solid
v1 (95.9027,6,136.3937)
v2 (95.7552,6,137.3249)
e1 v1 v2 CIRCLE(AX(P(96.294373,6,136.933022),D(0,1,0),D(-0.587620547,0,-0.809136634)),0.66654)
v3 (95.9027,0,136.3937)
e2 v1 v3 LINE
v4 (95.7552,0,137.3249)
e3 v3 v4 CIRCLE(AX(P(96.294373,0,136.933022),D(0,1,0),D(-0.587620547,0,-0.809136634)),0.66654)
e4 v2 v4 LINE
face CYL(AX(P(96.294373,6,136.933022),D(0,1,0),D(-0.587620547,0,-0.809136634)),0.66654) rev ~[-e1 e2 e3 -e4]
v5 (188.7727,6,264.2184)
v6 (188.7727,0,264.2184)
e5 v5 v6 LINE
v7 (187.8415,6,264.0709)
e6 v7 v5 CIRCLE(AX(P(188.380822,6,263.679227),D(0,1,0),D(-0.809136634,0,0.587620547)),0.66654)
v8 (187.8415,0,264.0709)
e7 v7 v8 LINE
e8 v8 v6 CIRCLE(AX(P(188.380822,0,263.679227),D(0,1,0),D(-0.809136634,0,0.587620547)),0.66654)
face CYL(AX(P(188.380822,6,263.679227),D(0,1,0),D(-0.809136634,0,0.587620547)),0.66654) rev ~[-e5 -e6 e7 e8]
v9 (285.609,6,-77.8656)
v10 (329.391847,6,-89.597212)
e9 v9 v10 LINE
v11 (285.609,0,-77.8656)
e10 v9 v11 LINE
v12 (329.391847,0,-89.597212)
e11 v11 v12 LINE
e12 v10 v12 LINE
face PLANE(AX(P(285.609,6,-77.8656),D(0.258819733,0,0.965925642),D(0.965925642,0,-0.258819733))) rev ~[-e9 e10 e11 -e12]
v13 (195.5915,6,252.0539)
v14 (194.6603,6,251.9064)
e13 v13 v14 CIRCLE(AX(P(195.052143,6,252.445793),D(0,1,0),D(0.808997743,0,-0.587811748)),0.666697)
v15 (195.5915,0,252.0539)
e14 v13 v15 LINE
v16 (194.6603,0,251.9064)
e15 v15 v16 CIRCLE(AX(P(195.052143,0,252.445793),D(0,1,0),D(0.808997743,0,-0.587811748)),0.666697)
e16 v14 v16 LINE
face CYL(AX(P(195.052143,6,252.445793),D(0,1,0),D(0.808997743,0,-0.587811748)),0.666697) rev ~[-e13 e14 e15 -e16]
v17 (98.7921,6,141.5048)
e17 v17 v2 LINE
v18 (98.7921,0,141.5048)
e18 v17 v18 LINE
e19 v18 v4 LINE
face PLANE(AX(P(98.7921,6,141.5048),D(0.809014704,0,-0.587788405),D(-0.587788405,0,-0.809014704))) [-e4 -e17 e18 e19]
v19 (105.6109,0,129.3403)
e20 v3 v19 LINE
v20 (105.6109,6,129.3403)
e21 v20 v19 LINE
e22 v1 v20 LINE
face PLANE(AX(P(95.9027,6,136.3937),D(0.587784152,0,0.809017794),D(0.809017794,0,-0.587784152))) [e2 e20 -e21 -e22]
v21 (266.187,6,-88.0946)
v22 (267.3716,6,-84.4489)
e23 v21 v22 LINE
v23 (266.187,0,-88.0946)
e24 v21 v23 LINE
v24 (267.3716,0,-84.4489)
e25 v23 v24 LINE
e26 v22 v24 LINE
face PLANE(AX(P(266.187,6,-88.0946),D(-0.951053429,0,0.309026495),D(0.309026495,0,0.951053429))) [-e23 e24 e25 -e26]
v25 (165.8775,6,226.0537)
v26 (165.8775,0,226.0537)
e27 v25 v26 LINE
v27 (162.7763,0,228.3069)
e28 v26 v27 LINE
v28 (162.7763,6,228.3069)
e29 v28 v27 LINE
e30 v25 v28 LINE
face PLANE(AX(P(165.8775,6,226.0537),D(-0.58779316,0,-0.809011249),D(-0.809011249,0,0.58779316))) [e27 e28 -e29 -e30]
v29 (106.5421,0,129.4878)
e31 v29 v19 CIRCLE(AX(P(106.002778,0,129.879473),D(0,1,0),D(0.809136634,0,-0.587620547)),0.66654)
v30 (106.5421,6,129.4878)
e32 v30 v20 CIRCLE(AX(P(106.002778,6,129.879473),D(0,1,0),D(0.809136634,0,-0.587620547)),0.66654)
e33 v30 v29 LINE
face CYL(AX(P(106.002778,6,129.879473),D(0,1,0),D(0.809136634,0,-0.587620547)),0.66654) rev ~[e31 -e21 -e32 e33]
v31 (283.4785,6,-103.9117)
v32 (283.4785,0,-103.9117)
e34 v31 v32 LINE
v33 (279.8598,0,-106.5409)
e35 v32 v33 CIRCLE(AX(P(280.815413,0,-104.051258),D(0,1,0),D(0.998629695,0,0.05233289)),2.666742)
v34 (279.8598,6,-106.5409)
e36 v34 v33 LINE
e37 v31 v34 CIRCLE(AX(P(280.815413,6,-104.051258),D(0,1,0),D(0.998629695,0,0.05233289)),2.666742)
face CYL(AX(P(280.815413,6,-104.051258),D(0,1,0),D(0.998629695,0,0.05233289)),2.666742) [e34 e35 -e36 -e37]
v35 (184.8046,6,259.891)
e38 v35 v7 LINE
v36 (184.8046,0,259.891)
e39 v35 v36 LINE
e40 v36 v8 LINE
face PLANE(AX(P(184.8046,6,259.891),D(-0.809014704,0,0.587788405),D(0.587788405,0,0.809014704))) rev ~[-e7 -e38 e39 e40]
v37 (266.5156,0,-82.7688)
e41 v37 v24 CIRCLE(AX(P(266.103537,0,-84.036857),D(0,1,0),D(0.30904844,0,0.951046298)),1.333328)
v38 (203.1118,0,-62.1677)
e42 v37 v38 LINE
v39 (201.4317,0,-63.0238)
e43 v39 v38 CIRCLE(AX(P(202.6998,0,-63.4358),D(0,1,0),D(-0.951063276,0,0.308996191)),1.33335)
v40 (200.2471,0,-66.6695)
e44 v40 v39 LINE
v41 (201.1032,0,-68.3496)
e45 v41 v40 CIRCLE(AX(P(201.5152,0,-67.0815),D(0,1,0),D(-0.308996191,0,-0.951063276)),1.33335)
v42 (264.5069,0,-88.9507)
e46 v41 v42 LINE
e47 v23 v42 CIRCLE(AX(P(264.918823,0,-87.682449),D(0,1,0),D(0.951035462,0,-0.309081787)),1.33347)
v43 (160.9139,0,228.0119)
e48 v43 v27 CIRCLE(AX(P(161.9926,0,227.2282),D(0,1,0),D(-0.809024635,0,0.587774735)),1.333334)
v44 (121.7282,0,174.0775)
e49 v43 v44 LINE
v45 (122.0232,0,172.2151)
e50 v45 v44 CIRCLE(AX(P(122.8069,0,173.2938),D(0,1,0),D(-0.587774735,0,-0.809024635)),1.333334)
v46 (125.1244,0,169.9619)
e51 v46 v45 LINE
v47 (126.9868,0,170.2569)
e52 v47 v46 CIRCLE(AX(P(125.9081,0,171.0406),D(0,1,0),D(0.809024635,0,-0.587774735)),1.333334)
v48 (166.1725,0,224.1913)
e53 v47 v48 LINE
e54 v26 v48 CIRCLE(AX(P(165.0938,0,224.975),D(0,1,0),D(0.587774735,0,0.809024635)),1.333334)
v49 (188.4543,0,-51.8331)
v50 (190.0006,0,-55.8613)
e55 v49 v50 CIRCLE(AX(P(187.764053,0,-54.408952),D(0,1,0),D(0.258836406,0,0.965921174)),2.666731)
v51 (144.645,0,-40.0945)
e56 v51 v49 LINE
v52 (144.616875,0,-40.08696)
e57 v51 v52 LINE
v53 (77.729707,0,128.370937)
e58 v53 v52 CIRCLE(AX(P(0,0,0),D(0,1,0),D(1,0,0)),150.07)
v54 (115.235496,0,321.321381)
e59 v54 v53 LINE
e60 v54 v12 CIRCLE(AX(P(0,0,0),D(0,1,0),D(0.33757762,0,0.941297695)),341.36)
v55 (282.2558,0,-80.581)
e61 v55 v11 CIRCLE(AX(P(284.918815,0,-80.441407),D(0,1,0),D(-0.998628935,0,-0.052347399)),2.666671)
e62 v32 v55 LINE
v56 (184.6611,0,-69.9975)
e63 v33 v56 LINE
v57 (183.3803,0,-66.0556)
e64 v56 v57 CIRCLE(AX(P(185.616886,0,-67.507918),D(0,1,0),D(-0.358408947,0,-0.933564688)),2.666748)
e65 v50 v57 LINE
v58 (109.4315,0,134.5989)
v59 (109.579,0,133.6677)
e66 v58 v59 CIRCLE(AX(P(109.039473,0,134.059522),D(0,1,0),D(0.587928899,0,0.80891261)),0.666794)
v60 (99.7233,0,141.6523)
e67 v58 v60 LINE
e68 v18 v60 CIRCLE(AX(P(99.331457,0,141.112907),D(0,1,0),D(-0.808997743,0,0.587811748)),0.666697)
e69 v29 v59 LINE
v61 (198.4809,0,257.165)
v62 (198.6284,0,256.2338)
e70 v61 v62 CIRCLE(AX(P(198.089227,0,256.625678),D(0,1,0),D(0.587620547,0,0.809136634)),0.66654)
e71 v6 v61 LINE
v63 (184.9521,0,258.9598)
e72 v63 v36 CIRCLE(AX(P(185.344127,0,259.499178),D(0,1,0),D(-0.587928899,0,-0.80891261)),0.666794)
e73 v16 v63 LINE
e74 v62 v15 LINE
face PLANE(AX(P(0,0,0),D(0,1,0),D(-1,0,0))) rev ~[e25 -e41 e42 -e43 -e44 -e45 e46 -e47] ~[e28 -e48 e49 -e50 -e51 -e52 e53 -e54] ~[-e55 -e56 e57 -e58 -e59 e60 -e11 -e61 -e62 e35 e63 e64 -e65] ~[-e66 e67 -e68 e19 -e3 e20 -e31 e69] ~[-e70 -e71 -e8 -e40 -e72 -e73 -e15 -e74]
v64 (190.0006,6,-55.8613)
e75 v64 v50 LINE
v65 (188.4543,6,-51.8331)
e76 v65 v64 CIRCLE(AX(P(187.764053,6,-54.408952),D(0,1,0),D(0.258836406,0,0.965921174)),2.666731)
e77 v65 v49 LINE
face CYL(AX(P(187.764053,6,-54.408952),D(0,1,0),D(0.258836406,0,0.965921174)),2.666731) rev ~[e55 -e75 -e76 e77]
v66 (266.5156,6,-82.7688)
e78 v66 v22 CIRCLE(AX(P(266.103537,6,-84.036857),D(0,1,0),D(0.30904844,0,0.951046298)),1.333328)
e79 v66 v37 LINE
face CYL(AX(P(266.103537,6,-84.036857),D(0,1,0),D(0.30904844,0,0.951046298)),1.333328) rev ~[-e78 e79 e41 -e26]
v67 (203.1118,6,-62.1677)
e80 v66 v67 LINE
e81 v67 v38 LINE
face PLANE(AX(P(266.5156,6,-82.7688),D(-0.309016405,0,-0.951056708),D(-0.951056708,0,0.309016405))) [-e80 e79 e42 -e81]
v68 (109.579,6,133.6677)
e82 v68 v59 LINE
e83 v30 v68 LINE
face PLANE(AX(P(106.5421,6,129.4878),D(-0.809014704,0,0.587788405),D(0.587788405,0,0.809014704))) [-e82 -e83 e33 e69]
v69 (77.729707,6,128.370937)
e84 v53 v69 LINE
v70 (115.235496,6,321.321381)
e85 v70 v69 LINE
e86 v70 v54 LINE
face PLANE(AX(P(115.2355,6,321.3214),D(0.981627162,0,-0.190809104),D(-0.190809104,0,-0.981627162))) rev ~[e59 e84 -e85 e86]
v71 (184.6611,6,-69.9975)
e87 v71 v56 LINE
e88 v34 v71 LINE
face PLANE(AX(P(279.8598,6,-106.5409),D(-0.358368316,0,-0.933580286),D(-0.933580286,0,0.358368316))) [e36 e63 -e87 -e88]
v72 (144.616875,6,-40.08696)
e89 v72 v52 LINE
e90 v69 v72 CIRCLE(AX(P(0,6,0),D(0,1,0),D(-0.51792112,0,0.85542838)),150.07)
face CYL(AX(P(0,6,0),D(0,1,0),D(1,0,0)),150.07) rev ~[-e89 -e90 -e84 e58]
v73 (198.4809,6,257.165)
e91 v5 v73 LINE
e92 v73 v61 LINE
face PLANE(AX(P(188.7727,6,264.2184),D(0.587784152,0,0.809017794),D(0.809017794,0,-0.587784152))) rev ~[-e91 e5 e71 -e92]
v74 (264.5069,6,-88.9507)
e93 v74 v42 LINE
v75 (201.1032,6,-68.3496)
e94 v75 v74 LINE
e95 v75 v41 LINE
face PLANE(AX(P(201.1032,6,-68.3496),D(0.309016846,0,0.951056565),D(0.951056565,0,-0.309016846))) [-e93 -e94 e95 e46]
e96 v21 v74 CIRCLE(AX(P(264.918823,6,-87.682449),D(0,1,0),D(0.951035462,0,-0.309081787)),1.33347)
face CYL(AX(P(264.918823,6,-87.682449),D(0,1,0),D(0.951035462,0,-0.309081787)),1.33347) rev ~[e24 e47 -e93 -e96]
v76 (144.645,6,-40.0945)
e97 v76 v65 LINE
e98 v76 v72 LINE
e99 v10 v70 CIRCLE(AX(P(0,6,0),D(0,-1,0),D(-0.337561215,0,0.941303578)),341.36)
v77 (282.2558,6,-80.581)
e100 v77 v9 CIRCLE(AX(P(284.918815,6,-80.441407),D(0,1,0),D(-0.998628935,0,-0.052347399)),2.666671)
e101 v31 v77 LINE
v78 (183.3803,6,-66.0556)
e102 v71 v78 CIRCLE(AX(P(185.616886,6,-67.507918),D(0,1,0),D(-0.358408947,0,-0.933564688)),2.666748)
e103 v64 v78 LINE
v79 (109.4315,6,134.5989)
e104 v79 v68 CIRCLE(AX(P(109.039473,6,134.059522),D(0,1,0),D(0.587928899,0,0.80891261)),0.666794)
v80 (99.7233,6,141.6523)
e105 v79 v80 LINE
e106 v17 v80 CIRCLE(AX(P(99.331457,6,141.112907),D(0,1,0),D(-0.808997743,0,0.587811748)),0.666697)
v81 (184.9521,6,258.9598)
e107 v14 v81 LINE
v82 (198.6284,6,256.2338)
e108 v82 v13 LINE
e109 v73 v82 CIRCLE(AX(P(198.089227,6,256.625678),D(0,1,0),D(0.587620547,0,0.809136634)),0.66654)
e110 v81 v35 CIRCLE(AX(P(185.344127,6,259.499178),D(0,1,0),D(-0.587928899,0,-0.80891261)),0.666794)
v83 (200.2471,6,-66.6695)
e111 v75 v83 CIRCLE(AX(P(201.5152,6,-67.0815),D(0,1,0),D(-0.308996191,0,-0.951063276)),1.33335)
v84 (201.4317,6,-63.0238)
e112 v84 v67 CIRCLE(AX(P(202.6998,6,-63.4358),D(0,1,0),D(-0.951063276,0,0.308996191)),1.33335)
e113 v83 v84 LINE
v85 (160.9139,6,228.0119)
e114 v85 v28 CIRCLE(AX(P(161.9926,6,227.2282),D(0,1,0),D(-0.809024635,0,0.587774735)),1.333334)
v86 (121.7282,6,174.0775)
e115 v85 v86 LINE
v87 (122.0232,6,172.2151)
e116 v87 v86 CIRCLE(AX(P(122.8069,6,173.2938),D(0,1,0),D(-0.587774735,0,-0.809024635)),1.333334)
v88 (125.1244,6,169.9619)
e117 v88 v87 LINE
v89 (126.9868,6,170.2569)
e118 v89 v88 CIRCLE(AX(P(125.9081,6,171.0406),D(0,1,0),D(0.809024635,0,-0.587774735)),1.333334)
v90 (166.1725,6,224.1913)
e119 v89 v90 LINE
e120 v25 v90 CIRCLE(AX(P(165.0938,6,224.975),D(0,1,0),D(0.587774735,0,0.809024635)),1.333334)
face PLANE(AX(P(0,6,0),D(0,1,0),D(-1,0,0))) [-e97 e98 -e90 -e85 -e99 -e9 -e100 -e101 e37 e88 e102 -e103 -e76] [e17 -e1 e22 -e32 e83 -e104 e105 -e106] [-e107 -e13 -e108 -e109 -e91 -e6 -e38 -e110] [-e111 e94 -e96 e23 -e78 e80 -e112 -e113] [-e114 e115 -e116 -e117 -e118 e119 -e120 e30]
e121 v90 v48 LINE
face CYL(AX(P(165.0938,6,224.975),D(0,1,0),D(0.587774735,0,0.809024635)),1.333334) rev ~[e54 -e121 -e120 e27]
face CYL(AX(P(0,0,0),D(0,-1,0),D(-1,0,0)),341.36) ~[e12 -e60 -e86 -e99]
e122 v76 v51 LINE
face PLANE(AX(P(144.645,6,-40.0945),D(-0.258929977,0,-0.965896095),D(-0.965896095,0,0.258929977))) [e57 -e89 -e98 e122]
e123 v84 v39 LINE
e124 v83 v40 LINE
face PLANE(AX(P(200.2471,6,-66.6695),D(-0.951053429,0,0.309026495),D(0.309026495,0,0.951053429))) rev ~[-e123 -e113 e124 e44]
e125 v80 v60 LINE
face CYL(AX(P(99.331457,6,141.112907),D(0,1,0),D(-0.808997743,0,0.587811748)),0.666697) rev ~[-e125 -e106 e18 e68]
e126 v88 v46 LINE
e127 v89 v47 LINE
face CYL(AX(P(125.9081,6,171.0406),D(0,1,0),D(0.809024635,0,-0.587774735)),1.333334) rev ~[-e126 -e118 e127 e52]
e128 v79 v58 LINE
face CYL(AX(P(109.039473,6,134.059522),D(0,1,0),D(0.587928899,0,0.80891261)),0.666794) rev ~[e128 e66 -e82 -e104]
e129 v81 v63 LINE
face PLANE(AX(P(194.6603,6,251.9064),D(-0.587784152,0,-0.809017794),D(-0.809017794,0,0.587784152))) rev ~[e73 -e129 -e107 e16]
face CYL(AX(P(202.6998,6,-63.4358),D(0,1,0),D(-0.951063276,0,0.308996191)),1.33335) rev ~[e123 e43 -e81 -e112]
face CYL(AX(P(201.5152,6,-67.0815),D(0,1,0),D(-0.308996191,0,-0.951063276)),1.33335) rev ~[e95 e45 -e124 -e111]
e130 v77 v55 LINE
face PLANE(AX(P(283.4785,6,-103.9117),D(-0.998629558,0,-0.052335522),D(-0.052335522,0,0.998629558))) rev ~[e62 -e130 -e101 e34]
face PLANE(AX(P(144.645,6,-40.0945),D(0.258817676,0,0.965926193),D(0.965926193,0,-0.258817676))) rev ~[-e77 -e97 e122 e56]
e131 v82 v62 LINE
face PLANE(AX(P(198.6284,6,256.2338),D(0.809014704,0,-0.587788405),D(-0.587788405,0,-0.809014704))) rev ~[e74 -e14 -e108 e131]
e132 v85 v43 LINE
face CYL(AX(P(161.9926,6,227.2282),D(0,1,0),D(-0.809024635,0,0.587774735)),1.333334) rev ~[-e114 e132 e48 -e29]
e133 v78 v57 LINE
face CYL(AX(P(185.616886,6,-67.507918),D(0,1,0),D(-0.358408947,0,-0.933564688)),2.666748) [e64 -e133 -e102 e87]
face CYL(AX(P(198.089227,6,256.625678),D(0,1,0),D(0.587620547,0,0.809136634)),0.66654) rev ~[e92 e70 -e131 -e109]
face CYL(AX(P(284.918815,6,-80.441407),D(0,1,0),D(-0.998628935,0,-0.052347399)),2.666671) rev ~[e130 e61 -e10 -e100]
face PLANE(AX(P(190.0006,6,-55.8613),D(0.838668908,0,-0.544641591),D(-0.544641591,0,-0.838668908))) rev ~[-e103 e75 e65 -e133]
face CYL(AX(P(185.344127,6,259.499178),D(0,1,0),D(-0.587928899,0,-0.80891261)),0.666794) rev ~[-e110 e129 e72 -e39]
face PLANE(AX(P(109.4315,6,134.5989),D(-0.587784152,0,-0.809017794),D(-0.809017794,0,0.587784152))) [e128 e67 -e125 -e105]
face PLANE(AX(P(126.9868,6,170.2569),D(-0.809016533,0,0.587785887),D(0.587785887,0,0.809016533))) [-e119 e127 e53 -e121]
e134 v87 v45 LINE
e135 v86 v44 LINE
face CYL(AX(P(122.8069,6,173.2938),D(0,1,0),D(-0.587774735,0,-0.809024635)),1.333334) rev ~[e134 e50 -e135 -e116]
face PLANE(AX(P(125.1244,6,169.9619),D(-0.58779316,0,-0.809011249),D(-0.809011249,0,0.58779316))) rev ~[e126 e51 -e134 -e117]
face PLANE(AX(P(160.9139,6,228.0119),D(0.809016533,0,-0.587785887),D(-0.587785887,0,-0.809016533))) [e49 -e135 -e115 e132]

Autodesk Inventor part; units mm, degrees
ref_plane "YZ Plane" through (0, 0, 0) normal (1, 0, 0) x (0, 1, 0)
ref_plane "XZ Plane" through (0, 0, 0) normal (0, 1, 0) x (-1, 0, 0)
ref_plane "XY Plane" through (0, 0, 0) normal (0, 0, 1) x (1, 0, 0)
sketch "Sketch1" plane through (0, 0, 0) normal (0, 1, 0) x (-1, 0, 0)
  circle A0 centre (0, 0) radius 341.36
  circle A1 centre (0, 0) radius 150.07
  dimension "d84" = 300.14
  dimension "d85" = 682.72
extrude "Extrusion3" add sketch "Sketch1" along normal blind 6 contours A0 | A1
sketch "Sketch2" plane through (0, 6, 0) normal (0, 1, 0) x (1, 0, 0)
  circle A0 centre (0, 0) radius 245.715 construction
  line L0 (245.7148, 0.3131) -> (341.6521, -0.0088)
  line L1 (3.25, 279.0483) -> (3.25, 212.3817)
  line L2 (-3.25, 212.3817) -> (-3.25, 279.0483)
  arc A1 (-3.25, 212.3817) -> (-1.9167, 211.0483) centre (-1.9167, 212.3817) ccw
  arc A2 (1.9167, 211.0483) -> (3.25, 212.3817) centre (1.9167, 212.3817) ccw
  arc A3 (-1.9167, 280.3817) -> (-3.25, 279.0483) centre (-1.9167, 279.0483) ccw
  arc A4 (3.25, 279.0483) -> (1.9167, 280.3817) centre (1.9167, 279.0483) ccw
  line L3 (-1.9167, 280.3817) -> (1.9167, 280.3817)
  line L4 (-1.9167, 211.0483) -> (1.9167, 211.0483)
  line L5 (0, 0) -> (0, 212.3817)
  line L6 (0, 280.3817) -> (0, 341.36)
  line L7 (0, 211.0483) -> (0, 245.715) construction
  line L8 (0, 280.3817) -> (0, 245.715) construction
  line L9 (-266.6835, 86.5666) -> (-233.7136, 75.854) construction
  line L10 (-264.4112, 89.2455) -> (-201.0074, 68.6444)
  arc A5 (-200.1513, 66.9643) -> (-201.0074, 68.6444) centre (-201.4194, 67.3763) ccw
  line L11 (-200.7436, 65.1414) -> (-233.7136, 75.854) construction
  line L12 (-201.3359, 63.3186) -> (-200.1513, 66.9643)
  line L13 (-267.2758, 84.7438) -> (-266.0912, 88.3895)
  line L14 (-203.016, 62.4625) -> (-266.4198, 83.0637)
  arc A6 (-203.016, 62.4625) -> (-201.3359, 63.3186) centre (-202.604, 63.7306) ccw
  arc A7 (-267.2758, 84.7438) -> (-266.4198, 83.0637) centre (-266.0077, 84.3317) ccw
  arc A8 (-264.4112, 89.2455) -> (-266.0912, 88.3895) centre (-264.8232, 87.9775) ccw
  line L15 (-165.0631, -226.6454) -> (-144.6865, -198.5995) construction
  line L16 (-166.9087, -223.6565) -> (-127.723, -169.722)
  arc A9 (-125.8606, -169.427) -> (-127.723, -169.722) centre (-126.6443, -170.5057) ccw
  line L17 (-124.31, -170.5536) -> (-144.6865, -198.5995) construction
  line L18 (-122.7594, -171.6802) -> (-125.8606, -169.427)
  line L19 (-163.5125, -227.772) -> (-166.6137, -225.5189)
  line L20 (-122.4644, -173.5426) -> (-161.6501, -227.4771)
  arc A10 (-122.4644, -173.5426) -> (-122.7594, -171.6802) centre (-123.5431, -172.7589) ccw
  arc A11 (-163.5125, -227.772) -> (-161.6501, -227.4771) centre (-162.7288, -226.6933) ccw
  arc A12 (-166.9087, -223.6565) -> (-166.6137, -225.5189) centre (-165.83, -224.4402) ccw
  line L21 (164.8042, -226.8335) -> (144.4277, -198.7876) construction
  line L22 (160.9139, -228.0119) -> (121.7282, -174.0775)
  arc A13 (122.0232, -172.2151) -> (121.7282, -174.0775) centre (122.8069, -173.2938) ccw
  line L23 (123.5738, -171.0885) -> (144.4277, -198.7876) construction
  line L24 (125.1244, -169.9619) -> (122.0232, -172.2151)
  line L25 (165.8775, -226.0537) -> (162.7763, -228.3069)
  line L26 (126.9868, -170.2569) -> (166.1725, -224.1913)
  arc A14 (126.9868, -170.2569) -> (125.1244, -169.9619) centre (125.9081, -171.0406) ccw
  arc A15 (165.8775, -226.0537) -> (166.1725, -224.1913) centre (165.0938, -224.975) ccw
  arc A16 (160.9139, -228.0119) -> (162.7763, -228.3069) centre (161.9926, -227.2282) ccw
  line L27 (266.7793, 86.2718) -> (233.8094, 75.5592) construction
  line L28 (266.5156, 82.7688) -> (203.1118, 62.1677)
  arc A17 (201.4317, 63.0238) -> (203.1118, 62.1677) centre (202.6998, 63.4358) ccw
  line L29 (200.8394, 64.8466) -> (233.8094, 75.5592) construction
  line L30 (200.2471, 66.6695) -> (201.4317, 63.0238)
  line L31 (266.187, 88.0946) -> (267.3716, 84.4489)
  line L32 (201.1032, 68.3496) -> (264.5069, 88.9507)
  arc A18 (201.1032, 68.3496) -> (200.2471, 66.6695) centre (201.5152, 67.0815) ccw
  arc A19 (266.187, 88.0946) -> (264.5069, 88.9507) centre (264.919, 87.6826) ccw
  arc A20 (266.5156, 82.7688) -> (267.3716, 84.4489) centre (266.1035, 84.0369) ccw
  point P0 (-202.0117, 65.5535)
  point P1 (-125.0937, -171.6323)
  point P2 (124.8348, -171.8204)
  point P3 (202.1075, 65.2586)
  dimension "d21" = 6.5
  dimension "d24" = 2.6667
  dimension "d25" = 2.6667
  dimension "d32" = 1.3333
  dimension "d33" = 1.3333
  dimension "d41" = 90
  dimension "d42" = 3.25
  dimension "d43" = 90
  dimension "d86" = 491.43
extrude "Extrusion4" cut sketch "Sketch2" against normal through all
sketch "Sketch3" plane through (0, 6, 0) normal (0, 1, 0) x (1, 0, 0)
  arc A0 (-115.2299, -321.3234) -> (115.2355, -321.3214) centre (0, 0) ccw
  arc A1 (-77.7244, -128.3741) -> (77.7297, -128.3709) centre (0, 0) ccw
  line L0 (-122.1811, -173.696) -> (-161.3589, -227.6196)
  line L1 (-115.2299, -321.3234) -> (-77.7244, -128.3741)
  line L2 (0, 0) -> (0, -341.2918)
  line L3 (115.2355, -321.3214) -> (77.7297, -128.3709)
  line L4 (161.3912, -227.6651) -> (122.2055, -173.7307) projected
  dimension "d52" = 25
  dimension "d87" = 150.07
  dimension "d88" = 341.36
  dimension "d89" = 25
  dimension "d90" = 11
  dimension "d91" = 11
extrude "Extrusion5" cut sketch "Sketch3" against normal blind 10
sketch "Sketch5" plane through (0, 6, 0) normal (0, 1, 0) x (1, 0, 0)
  line L0 (3.25, 279.0483) -> (3.25, 212.3817) projected
  line L1 (5.5862, 197.9634) -> (-6.155, 194.8174)
  line L2 (-11.2263, 301.7146) -> (10.5847, 293.3421)
  line L3 (6.5657, 149.9554) -> (8.9394, 195.248)
  line L4 (14.2034, 295.6921) -> (16.5771, 340.9846)
  arc A0 (10.5847, 293.3421) -> (14.2034, 295.6921) centre (11.5404, 295.8316) ccw
  arc A1 (8.9394, 195.248) -> (5.5862, 197.9634) centre (6.2763, 195.3876) ccw
  arc A2 (-11.2263, 301.7146) -> (-14.8449, 299.0854) centre (-12.1819, 299.225) ccw
  line L5 (-3.25, 212.3817) -> (-3.25, 279.0483) projected
  line L6 (-14.8449, 299.0854) -> (-9.5081, 197.2536)
  arc A3 (-9.5081, 197.2536) -> (-6.155, 194.8174) centre (-6.8451, 197.3932) ccw
  line L7 (-1.9167, 211.0483) -> (1.9167, 211.0483) projected
  line L8 (1.9167, 280.3817) -> (-1.9167, 280.3817) projected
  arc A4 (115.2355, -321.3214) -> (-115.2299, -321.3234) centre (0, 0) ccw
  line L9 (16.5771, 340.9846) -> (16.5774, 340.9903)
  arc A5 (-190.5375, 51.9119) -> (-187.1843, 54.3482) centre (-189.8473, 54.4877) ccw
  line L10 (-186.5481, 66.4868) -> (-187.1843, 54.3482)
  arc A6 (-182.9295, 68.8368) -> (-186.5481, 66.4868) centre (-183.8851, 66.3472) ccw
  arc A7 (-275.714, 100.7144) -> (-276.8308, 104.8821) centre (-277.7864, 102.3926) ccw
  line L11 (-289.0345, 78.3041) -> (-190.5375, 51.9119)
  arc A8 (-290.4167, 82.5581) -> (-289.0345, 78.3041) centre (-288.3443, 80.8799) ccw
  line L12 (-290.4167, 82.5581) -> (-275.714, 100.7144)
  line L13 (-276.8308, 104.8821) -> (-319.1731, 121.1358)
  line L14 (-140.5872, 52.5831) -> (-182.9295, 68.8368)
  line L15 (-319.1731, 121.1358) -> (-319.1784, 121.1378)
  arc A9 (184.6611, 69.9975) -> (183.3803, 66.0556) centre (185.6168, 67.508) ccw
  line L16 (190.0006, 55.8613) -> (183.3803, 66.0556)
  arc A10 (188.4543, 51.8331) -> (190.0006, 55.8613) centre (187.7641, 54.4089) ccw
  arc A11 (282.2558, 80.581) -> (285.609, 77.8656) centre (284.9188, 80.4414) ccw
  line L17 (279.8598, 106.5409) -> (184.6611, 69.9975)
  arc A12 (283.4785, 103.9117) -> (279.8598, 106.5409) centre (280.8155, 104.0513) ccw
  line L18 (283.4785, 103.9117) -> (282.2558, 80.581)
  line L19 (285.609, 77.8656) -> (329.4183, 89.6043)
  line L20 (144.645, 40.0945) -> (188.4543, 51.8331)
  line L21 (329.4183, 89.6043) -> (329.4238, 89.6058)
  circle A13 centre (0, 0) radius 150.07
  line L22 (-140.5872, 52.5831) -> (-140.5479, 52.568)
  line L23 (144.645, 40.0945) -> (144.5122, 40.0589)
  line L24 (6.5657, 149.9554) -> (6.5621, 149.8874)
  arc A14 (-77.7244, -128.3741) -> (77.7297, -128.3709) centre (0, 0) ccw projected
  arc A15 (115.2355, -321.3214) -> (-115.2299, -321.3234) centre (0, 0) ccw projected
  line L25 (77.7297, -128.3709) -> (115.2355, -321.3214)
  line L26 (-77.7244, -128.3741) -> (-115.2299, -321.3234)
  point P0 (-77.7399, -128.3998)
  point P1 (77.7399, -128.3998)
  point P2 (-319.1475, 121.126)
  point P3 (-140.56, 52.5727)
  point P4 (6.5642, 149.9264)
  point P5 (16.5757, 340.9573)
  point P6 (329.3918, 89.5972)
  point P7 (144.6169, 40.0869)
  dimension "d63" = 2.6667
  dimension "d64" = 3
  dimension "d66" = 3
  dimension "d67" = 2.6667
  dimension "d68" = 2.6667
  dimension "d70" = 72
  dimension "d71" = 72
  dimension "d94" = 300.14
  dimension "d95" = 682.72
sketch "Sketch6" plane through (0, 6, 0) normal (0, 1, 0) x (1, 0, 0)
  line L0 (188.7727, -264.2184) -> (198.4809, -257.165)
  line L1 (194.6603, -251.9064) -> (184.9521, -258.9598)
  line L2 (161.3912, -227.6651) -> (122.2055, -173.7307) projected
  line L3 (166.3548, -225.7069) -> (163.2536, -227.9601) projected
  arc A0 (195.5915, -252.0539) -> (194.6603, -251.9064) centre (195.0522, -252.4457) ccw
  arc A1 (198.4809, -257.165) -> (198.6284, -256.2338) centre (198.0891, -256.6256) ccw
  arc A2 (187.8415, -264.0709) -> (188.7727, -264.2184) centre (188.3809, -263.6791) ccw
  arc A3 (184.9521, -258.9598) -> (184.8046, -259.891) centre (185.344, -259.4991) ccw
  line L4 (184.8046, -259.891) -> (187.8415, -264.0709)
  line L5 (198.6284, -256.2338) -> (195.5915, -252.0539)
  line L6 (122.2055, -173.7307) -> (161.3912, -227.6651) projected
  line L7 (141.7983, -200.6979) -> (147.057, -196.8773)
  line L8 (166.6498, -223.8445) -> (127.4641, -169.9101) projected
  line L9 (95.9027, -136.3937) -> (105.6109, -129.3403)
  line L10 (109.4315, -134.5989) -> (99.7233, -141.6523)
  arc A4 (109.4315, -134.5989) -> (109.579, -133.6677) centre (109.0396, -134.0596) ccw
  arc A5 (106.5421, -129.4878) -> (105.6109, -129.3403) centre (106.0027, -129.8796) ccw
  arc A6 (95.9027, -136.3937) -> (95.7552, -137.3249) centre (96.2945, -136.9331) ccw
  arc A7 (98.7921, -141.5048) -> (99.7233, -141.6523) centre (99.3314, -141.113) ccw
  line L11 (98.7921, -141.5048) -> (95.7552, -137.3249)
  line L12 (106.5421, -129.4878) -> (109.579, -133.6677)
  point P0 (0, 0)
  dimension "d104" = 6.5
  dimension "d105" = 12
  dimension "d108" = 1.3333
  dimension "d109" = 1.3333
  dimension "d110" = 1.3333
  dimension "d111" = 1.3333
  dimension "d112" = 0
  dimension "d149" = 145
  dimension "d150" = 90
  dimension "d151" = 90
  dimension "d152" = 90
  dimension "d153" = 90
extrude "Extrusion7" cut sketch "Sketch6" against normal through all
pattern_circular "Circular Pattern2" count 2 over 72 about axis through (0, -10, 0) along (0, 1, 0) of "Extrusion7"
pattern_circular "Circular Pattern3" count 2 over 144 about axis through (0, -10, 0) along (0, 1, 0) of "Extrusion7"
mirror "Mirror3" about plane through (0, 0, 0) normal (1, 0, 0) of "Extrusion7"
pattern_circular "Circular Pattern4" count 2 over 144 about axis through (0, -10, 0) along (0, -1, 0) of "Extrusion7"
extrude "Extrusion10" cut sketch "Sketch5" against normal through all contours A1 L3 L24 A13 L22 L14 A6 L10 A5 L11 A8 L12 A7 L13 A4 L4 A0 L2 A2 L6 A3 L1 | L1 A3 L6 A2 L2 A0 L4 A4 L19 A11 L18 A12 L17 A9 L16 A10 L20 L23 A13 L24 L3 A1 | A13 | A13 L26 A4 L13 A7 L12 A8 L11 A5 L10 A6 L14 L22
equation "\"BendRadius\" = Thickness"
equation "\"BendReliefWidth\" = Thickness"
equation "\"BendReliefDepth\" = 0.5 * Thickness"
equation "\"CornerReliefSize\" = 4 * Thickness"
equation "\"MinimumRemnant\" = 2 * Thickness"
equation "\"TransitionRadius\" = BendRadius"
equation "\"JacobiRadiusSize\" = BendRadius"
equation "\"GapSize\" = Thickness"
equation "\"Thickness\" = 0.5"
properties part number "Ring D4" material "Wood (Maple)"
